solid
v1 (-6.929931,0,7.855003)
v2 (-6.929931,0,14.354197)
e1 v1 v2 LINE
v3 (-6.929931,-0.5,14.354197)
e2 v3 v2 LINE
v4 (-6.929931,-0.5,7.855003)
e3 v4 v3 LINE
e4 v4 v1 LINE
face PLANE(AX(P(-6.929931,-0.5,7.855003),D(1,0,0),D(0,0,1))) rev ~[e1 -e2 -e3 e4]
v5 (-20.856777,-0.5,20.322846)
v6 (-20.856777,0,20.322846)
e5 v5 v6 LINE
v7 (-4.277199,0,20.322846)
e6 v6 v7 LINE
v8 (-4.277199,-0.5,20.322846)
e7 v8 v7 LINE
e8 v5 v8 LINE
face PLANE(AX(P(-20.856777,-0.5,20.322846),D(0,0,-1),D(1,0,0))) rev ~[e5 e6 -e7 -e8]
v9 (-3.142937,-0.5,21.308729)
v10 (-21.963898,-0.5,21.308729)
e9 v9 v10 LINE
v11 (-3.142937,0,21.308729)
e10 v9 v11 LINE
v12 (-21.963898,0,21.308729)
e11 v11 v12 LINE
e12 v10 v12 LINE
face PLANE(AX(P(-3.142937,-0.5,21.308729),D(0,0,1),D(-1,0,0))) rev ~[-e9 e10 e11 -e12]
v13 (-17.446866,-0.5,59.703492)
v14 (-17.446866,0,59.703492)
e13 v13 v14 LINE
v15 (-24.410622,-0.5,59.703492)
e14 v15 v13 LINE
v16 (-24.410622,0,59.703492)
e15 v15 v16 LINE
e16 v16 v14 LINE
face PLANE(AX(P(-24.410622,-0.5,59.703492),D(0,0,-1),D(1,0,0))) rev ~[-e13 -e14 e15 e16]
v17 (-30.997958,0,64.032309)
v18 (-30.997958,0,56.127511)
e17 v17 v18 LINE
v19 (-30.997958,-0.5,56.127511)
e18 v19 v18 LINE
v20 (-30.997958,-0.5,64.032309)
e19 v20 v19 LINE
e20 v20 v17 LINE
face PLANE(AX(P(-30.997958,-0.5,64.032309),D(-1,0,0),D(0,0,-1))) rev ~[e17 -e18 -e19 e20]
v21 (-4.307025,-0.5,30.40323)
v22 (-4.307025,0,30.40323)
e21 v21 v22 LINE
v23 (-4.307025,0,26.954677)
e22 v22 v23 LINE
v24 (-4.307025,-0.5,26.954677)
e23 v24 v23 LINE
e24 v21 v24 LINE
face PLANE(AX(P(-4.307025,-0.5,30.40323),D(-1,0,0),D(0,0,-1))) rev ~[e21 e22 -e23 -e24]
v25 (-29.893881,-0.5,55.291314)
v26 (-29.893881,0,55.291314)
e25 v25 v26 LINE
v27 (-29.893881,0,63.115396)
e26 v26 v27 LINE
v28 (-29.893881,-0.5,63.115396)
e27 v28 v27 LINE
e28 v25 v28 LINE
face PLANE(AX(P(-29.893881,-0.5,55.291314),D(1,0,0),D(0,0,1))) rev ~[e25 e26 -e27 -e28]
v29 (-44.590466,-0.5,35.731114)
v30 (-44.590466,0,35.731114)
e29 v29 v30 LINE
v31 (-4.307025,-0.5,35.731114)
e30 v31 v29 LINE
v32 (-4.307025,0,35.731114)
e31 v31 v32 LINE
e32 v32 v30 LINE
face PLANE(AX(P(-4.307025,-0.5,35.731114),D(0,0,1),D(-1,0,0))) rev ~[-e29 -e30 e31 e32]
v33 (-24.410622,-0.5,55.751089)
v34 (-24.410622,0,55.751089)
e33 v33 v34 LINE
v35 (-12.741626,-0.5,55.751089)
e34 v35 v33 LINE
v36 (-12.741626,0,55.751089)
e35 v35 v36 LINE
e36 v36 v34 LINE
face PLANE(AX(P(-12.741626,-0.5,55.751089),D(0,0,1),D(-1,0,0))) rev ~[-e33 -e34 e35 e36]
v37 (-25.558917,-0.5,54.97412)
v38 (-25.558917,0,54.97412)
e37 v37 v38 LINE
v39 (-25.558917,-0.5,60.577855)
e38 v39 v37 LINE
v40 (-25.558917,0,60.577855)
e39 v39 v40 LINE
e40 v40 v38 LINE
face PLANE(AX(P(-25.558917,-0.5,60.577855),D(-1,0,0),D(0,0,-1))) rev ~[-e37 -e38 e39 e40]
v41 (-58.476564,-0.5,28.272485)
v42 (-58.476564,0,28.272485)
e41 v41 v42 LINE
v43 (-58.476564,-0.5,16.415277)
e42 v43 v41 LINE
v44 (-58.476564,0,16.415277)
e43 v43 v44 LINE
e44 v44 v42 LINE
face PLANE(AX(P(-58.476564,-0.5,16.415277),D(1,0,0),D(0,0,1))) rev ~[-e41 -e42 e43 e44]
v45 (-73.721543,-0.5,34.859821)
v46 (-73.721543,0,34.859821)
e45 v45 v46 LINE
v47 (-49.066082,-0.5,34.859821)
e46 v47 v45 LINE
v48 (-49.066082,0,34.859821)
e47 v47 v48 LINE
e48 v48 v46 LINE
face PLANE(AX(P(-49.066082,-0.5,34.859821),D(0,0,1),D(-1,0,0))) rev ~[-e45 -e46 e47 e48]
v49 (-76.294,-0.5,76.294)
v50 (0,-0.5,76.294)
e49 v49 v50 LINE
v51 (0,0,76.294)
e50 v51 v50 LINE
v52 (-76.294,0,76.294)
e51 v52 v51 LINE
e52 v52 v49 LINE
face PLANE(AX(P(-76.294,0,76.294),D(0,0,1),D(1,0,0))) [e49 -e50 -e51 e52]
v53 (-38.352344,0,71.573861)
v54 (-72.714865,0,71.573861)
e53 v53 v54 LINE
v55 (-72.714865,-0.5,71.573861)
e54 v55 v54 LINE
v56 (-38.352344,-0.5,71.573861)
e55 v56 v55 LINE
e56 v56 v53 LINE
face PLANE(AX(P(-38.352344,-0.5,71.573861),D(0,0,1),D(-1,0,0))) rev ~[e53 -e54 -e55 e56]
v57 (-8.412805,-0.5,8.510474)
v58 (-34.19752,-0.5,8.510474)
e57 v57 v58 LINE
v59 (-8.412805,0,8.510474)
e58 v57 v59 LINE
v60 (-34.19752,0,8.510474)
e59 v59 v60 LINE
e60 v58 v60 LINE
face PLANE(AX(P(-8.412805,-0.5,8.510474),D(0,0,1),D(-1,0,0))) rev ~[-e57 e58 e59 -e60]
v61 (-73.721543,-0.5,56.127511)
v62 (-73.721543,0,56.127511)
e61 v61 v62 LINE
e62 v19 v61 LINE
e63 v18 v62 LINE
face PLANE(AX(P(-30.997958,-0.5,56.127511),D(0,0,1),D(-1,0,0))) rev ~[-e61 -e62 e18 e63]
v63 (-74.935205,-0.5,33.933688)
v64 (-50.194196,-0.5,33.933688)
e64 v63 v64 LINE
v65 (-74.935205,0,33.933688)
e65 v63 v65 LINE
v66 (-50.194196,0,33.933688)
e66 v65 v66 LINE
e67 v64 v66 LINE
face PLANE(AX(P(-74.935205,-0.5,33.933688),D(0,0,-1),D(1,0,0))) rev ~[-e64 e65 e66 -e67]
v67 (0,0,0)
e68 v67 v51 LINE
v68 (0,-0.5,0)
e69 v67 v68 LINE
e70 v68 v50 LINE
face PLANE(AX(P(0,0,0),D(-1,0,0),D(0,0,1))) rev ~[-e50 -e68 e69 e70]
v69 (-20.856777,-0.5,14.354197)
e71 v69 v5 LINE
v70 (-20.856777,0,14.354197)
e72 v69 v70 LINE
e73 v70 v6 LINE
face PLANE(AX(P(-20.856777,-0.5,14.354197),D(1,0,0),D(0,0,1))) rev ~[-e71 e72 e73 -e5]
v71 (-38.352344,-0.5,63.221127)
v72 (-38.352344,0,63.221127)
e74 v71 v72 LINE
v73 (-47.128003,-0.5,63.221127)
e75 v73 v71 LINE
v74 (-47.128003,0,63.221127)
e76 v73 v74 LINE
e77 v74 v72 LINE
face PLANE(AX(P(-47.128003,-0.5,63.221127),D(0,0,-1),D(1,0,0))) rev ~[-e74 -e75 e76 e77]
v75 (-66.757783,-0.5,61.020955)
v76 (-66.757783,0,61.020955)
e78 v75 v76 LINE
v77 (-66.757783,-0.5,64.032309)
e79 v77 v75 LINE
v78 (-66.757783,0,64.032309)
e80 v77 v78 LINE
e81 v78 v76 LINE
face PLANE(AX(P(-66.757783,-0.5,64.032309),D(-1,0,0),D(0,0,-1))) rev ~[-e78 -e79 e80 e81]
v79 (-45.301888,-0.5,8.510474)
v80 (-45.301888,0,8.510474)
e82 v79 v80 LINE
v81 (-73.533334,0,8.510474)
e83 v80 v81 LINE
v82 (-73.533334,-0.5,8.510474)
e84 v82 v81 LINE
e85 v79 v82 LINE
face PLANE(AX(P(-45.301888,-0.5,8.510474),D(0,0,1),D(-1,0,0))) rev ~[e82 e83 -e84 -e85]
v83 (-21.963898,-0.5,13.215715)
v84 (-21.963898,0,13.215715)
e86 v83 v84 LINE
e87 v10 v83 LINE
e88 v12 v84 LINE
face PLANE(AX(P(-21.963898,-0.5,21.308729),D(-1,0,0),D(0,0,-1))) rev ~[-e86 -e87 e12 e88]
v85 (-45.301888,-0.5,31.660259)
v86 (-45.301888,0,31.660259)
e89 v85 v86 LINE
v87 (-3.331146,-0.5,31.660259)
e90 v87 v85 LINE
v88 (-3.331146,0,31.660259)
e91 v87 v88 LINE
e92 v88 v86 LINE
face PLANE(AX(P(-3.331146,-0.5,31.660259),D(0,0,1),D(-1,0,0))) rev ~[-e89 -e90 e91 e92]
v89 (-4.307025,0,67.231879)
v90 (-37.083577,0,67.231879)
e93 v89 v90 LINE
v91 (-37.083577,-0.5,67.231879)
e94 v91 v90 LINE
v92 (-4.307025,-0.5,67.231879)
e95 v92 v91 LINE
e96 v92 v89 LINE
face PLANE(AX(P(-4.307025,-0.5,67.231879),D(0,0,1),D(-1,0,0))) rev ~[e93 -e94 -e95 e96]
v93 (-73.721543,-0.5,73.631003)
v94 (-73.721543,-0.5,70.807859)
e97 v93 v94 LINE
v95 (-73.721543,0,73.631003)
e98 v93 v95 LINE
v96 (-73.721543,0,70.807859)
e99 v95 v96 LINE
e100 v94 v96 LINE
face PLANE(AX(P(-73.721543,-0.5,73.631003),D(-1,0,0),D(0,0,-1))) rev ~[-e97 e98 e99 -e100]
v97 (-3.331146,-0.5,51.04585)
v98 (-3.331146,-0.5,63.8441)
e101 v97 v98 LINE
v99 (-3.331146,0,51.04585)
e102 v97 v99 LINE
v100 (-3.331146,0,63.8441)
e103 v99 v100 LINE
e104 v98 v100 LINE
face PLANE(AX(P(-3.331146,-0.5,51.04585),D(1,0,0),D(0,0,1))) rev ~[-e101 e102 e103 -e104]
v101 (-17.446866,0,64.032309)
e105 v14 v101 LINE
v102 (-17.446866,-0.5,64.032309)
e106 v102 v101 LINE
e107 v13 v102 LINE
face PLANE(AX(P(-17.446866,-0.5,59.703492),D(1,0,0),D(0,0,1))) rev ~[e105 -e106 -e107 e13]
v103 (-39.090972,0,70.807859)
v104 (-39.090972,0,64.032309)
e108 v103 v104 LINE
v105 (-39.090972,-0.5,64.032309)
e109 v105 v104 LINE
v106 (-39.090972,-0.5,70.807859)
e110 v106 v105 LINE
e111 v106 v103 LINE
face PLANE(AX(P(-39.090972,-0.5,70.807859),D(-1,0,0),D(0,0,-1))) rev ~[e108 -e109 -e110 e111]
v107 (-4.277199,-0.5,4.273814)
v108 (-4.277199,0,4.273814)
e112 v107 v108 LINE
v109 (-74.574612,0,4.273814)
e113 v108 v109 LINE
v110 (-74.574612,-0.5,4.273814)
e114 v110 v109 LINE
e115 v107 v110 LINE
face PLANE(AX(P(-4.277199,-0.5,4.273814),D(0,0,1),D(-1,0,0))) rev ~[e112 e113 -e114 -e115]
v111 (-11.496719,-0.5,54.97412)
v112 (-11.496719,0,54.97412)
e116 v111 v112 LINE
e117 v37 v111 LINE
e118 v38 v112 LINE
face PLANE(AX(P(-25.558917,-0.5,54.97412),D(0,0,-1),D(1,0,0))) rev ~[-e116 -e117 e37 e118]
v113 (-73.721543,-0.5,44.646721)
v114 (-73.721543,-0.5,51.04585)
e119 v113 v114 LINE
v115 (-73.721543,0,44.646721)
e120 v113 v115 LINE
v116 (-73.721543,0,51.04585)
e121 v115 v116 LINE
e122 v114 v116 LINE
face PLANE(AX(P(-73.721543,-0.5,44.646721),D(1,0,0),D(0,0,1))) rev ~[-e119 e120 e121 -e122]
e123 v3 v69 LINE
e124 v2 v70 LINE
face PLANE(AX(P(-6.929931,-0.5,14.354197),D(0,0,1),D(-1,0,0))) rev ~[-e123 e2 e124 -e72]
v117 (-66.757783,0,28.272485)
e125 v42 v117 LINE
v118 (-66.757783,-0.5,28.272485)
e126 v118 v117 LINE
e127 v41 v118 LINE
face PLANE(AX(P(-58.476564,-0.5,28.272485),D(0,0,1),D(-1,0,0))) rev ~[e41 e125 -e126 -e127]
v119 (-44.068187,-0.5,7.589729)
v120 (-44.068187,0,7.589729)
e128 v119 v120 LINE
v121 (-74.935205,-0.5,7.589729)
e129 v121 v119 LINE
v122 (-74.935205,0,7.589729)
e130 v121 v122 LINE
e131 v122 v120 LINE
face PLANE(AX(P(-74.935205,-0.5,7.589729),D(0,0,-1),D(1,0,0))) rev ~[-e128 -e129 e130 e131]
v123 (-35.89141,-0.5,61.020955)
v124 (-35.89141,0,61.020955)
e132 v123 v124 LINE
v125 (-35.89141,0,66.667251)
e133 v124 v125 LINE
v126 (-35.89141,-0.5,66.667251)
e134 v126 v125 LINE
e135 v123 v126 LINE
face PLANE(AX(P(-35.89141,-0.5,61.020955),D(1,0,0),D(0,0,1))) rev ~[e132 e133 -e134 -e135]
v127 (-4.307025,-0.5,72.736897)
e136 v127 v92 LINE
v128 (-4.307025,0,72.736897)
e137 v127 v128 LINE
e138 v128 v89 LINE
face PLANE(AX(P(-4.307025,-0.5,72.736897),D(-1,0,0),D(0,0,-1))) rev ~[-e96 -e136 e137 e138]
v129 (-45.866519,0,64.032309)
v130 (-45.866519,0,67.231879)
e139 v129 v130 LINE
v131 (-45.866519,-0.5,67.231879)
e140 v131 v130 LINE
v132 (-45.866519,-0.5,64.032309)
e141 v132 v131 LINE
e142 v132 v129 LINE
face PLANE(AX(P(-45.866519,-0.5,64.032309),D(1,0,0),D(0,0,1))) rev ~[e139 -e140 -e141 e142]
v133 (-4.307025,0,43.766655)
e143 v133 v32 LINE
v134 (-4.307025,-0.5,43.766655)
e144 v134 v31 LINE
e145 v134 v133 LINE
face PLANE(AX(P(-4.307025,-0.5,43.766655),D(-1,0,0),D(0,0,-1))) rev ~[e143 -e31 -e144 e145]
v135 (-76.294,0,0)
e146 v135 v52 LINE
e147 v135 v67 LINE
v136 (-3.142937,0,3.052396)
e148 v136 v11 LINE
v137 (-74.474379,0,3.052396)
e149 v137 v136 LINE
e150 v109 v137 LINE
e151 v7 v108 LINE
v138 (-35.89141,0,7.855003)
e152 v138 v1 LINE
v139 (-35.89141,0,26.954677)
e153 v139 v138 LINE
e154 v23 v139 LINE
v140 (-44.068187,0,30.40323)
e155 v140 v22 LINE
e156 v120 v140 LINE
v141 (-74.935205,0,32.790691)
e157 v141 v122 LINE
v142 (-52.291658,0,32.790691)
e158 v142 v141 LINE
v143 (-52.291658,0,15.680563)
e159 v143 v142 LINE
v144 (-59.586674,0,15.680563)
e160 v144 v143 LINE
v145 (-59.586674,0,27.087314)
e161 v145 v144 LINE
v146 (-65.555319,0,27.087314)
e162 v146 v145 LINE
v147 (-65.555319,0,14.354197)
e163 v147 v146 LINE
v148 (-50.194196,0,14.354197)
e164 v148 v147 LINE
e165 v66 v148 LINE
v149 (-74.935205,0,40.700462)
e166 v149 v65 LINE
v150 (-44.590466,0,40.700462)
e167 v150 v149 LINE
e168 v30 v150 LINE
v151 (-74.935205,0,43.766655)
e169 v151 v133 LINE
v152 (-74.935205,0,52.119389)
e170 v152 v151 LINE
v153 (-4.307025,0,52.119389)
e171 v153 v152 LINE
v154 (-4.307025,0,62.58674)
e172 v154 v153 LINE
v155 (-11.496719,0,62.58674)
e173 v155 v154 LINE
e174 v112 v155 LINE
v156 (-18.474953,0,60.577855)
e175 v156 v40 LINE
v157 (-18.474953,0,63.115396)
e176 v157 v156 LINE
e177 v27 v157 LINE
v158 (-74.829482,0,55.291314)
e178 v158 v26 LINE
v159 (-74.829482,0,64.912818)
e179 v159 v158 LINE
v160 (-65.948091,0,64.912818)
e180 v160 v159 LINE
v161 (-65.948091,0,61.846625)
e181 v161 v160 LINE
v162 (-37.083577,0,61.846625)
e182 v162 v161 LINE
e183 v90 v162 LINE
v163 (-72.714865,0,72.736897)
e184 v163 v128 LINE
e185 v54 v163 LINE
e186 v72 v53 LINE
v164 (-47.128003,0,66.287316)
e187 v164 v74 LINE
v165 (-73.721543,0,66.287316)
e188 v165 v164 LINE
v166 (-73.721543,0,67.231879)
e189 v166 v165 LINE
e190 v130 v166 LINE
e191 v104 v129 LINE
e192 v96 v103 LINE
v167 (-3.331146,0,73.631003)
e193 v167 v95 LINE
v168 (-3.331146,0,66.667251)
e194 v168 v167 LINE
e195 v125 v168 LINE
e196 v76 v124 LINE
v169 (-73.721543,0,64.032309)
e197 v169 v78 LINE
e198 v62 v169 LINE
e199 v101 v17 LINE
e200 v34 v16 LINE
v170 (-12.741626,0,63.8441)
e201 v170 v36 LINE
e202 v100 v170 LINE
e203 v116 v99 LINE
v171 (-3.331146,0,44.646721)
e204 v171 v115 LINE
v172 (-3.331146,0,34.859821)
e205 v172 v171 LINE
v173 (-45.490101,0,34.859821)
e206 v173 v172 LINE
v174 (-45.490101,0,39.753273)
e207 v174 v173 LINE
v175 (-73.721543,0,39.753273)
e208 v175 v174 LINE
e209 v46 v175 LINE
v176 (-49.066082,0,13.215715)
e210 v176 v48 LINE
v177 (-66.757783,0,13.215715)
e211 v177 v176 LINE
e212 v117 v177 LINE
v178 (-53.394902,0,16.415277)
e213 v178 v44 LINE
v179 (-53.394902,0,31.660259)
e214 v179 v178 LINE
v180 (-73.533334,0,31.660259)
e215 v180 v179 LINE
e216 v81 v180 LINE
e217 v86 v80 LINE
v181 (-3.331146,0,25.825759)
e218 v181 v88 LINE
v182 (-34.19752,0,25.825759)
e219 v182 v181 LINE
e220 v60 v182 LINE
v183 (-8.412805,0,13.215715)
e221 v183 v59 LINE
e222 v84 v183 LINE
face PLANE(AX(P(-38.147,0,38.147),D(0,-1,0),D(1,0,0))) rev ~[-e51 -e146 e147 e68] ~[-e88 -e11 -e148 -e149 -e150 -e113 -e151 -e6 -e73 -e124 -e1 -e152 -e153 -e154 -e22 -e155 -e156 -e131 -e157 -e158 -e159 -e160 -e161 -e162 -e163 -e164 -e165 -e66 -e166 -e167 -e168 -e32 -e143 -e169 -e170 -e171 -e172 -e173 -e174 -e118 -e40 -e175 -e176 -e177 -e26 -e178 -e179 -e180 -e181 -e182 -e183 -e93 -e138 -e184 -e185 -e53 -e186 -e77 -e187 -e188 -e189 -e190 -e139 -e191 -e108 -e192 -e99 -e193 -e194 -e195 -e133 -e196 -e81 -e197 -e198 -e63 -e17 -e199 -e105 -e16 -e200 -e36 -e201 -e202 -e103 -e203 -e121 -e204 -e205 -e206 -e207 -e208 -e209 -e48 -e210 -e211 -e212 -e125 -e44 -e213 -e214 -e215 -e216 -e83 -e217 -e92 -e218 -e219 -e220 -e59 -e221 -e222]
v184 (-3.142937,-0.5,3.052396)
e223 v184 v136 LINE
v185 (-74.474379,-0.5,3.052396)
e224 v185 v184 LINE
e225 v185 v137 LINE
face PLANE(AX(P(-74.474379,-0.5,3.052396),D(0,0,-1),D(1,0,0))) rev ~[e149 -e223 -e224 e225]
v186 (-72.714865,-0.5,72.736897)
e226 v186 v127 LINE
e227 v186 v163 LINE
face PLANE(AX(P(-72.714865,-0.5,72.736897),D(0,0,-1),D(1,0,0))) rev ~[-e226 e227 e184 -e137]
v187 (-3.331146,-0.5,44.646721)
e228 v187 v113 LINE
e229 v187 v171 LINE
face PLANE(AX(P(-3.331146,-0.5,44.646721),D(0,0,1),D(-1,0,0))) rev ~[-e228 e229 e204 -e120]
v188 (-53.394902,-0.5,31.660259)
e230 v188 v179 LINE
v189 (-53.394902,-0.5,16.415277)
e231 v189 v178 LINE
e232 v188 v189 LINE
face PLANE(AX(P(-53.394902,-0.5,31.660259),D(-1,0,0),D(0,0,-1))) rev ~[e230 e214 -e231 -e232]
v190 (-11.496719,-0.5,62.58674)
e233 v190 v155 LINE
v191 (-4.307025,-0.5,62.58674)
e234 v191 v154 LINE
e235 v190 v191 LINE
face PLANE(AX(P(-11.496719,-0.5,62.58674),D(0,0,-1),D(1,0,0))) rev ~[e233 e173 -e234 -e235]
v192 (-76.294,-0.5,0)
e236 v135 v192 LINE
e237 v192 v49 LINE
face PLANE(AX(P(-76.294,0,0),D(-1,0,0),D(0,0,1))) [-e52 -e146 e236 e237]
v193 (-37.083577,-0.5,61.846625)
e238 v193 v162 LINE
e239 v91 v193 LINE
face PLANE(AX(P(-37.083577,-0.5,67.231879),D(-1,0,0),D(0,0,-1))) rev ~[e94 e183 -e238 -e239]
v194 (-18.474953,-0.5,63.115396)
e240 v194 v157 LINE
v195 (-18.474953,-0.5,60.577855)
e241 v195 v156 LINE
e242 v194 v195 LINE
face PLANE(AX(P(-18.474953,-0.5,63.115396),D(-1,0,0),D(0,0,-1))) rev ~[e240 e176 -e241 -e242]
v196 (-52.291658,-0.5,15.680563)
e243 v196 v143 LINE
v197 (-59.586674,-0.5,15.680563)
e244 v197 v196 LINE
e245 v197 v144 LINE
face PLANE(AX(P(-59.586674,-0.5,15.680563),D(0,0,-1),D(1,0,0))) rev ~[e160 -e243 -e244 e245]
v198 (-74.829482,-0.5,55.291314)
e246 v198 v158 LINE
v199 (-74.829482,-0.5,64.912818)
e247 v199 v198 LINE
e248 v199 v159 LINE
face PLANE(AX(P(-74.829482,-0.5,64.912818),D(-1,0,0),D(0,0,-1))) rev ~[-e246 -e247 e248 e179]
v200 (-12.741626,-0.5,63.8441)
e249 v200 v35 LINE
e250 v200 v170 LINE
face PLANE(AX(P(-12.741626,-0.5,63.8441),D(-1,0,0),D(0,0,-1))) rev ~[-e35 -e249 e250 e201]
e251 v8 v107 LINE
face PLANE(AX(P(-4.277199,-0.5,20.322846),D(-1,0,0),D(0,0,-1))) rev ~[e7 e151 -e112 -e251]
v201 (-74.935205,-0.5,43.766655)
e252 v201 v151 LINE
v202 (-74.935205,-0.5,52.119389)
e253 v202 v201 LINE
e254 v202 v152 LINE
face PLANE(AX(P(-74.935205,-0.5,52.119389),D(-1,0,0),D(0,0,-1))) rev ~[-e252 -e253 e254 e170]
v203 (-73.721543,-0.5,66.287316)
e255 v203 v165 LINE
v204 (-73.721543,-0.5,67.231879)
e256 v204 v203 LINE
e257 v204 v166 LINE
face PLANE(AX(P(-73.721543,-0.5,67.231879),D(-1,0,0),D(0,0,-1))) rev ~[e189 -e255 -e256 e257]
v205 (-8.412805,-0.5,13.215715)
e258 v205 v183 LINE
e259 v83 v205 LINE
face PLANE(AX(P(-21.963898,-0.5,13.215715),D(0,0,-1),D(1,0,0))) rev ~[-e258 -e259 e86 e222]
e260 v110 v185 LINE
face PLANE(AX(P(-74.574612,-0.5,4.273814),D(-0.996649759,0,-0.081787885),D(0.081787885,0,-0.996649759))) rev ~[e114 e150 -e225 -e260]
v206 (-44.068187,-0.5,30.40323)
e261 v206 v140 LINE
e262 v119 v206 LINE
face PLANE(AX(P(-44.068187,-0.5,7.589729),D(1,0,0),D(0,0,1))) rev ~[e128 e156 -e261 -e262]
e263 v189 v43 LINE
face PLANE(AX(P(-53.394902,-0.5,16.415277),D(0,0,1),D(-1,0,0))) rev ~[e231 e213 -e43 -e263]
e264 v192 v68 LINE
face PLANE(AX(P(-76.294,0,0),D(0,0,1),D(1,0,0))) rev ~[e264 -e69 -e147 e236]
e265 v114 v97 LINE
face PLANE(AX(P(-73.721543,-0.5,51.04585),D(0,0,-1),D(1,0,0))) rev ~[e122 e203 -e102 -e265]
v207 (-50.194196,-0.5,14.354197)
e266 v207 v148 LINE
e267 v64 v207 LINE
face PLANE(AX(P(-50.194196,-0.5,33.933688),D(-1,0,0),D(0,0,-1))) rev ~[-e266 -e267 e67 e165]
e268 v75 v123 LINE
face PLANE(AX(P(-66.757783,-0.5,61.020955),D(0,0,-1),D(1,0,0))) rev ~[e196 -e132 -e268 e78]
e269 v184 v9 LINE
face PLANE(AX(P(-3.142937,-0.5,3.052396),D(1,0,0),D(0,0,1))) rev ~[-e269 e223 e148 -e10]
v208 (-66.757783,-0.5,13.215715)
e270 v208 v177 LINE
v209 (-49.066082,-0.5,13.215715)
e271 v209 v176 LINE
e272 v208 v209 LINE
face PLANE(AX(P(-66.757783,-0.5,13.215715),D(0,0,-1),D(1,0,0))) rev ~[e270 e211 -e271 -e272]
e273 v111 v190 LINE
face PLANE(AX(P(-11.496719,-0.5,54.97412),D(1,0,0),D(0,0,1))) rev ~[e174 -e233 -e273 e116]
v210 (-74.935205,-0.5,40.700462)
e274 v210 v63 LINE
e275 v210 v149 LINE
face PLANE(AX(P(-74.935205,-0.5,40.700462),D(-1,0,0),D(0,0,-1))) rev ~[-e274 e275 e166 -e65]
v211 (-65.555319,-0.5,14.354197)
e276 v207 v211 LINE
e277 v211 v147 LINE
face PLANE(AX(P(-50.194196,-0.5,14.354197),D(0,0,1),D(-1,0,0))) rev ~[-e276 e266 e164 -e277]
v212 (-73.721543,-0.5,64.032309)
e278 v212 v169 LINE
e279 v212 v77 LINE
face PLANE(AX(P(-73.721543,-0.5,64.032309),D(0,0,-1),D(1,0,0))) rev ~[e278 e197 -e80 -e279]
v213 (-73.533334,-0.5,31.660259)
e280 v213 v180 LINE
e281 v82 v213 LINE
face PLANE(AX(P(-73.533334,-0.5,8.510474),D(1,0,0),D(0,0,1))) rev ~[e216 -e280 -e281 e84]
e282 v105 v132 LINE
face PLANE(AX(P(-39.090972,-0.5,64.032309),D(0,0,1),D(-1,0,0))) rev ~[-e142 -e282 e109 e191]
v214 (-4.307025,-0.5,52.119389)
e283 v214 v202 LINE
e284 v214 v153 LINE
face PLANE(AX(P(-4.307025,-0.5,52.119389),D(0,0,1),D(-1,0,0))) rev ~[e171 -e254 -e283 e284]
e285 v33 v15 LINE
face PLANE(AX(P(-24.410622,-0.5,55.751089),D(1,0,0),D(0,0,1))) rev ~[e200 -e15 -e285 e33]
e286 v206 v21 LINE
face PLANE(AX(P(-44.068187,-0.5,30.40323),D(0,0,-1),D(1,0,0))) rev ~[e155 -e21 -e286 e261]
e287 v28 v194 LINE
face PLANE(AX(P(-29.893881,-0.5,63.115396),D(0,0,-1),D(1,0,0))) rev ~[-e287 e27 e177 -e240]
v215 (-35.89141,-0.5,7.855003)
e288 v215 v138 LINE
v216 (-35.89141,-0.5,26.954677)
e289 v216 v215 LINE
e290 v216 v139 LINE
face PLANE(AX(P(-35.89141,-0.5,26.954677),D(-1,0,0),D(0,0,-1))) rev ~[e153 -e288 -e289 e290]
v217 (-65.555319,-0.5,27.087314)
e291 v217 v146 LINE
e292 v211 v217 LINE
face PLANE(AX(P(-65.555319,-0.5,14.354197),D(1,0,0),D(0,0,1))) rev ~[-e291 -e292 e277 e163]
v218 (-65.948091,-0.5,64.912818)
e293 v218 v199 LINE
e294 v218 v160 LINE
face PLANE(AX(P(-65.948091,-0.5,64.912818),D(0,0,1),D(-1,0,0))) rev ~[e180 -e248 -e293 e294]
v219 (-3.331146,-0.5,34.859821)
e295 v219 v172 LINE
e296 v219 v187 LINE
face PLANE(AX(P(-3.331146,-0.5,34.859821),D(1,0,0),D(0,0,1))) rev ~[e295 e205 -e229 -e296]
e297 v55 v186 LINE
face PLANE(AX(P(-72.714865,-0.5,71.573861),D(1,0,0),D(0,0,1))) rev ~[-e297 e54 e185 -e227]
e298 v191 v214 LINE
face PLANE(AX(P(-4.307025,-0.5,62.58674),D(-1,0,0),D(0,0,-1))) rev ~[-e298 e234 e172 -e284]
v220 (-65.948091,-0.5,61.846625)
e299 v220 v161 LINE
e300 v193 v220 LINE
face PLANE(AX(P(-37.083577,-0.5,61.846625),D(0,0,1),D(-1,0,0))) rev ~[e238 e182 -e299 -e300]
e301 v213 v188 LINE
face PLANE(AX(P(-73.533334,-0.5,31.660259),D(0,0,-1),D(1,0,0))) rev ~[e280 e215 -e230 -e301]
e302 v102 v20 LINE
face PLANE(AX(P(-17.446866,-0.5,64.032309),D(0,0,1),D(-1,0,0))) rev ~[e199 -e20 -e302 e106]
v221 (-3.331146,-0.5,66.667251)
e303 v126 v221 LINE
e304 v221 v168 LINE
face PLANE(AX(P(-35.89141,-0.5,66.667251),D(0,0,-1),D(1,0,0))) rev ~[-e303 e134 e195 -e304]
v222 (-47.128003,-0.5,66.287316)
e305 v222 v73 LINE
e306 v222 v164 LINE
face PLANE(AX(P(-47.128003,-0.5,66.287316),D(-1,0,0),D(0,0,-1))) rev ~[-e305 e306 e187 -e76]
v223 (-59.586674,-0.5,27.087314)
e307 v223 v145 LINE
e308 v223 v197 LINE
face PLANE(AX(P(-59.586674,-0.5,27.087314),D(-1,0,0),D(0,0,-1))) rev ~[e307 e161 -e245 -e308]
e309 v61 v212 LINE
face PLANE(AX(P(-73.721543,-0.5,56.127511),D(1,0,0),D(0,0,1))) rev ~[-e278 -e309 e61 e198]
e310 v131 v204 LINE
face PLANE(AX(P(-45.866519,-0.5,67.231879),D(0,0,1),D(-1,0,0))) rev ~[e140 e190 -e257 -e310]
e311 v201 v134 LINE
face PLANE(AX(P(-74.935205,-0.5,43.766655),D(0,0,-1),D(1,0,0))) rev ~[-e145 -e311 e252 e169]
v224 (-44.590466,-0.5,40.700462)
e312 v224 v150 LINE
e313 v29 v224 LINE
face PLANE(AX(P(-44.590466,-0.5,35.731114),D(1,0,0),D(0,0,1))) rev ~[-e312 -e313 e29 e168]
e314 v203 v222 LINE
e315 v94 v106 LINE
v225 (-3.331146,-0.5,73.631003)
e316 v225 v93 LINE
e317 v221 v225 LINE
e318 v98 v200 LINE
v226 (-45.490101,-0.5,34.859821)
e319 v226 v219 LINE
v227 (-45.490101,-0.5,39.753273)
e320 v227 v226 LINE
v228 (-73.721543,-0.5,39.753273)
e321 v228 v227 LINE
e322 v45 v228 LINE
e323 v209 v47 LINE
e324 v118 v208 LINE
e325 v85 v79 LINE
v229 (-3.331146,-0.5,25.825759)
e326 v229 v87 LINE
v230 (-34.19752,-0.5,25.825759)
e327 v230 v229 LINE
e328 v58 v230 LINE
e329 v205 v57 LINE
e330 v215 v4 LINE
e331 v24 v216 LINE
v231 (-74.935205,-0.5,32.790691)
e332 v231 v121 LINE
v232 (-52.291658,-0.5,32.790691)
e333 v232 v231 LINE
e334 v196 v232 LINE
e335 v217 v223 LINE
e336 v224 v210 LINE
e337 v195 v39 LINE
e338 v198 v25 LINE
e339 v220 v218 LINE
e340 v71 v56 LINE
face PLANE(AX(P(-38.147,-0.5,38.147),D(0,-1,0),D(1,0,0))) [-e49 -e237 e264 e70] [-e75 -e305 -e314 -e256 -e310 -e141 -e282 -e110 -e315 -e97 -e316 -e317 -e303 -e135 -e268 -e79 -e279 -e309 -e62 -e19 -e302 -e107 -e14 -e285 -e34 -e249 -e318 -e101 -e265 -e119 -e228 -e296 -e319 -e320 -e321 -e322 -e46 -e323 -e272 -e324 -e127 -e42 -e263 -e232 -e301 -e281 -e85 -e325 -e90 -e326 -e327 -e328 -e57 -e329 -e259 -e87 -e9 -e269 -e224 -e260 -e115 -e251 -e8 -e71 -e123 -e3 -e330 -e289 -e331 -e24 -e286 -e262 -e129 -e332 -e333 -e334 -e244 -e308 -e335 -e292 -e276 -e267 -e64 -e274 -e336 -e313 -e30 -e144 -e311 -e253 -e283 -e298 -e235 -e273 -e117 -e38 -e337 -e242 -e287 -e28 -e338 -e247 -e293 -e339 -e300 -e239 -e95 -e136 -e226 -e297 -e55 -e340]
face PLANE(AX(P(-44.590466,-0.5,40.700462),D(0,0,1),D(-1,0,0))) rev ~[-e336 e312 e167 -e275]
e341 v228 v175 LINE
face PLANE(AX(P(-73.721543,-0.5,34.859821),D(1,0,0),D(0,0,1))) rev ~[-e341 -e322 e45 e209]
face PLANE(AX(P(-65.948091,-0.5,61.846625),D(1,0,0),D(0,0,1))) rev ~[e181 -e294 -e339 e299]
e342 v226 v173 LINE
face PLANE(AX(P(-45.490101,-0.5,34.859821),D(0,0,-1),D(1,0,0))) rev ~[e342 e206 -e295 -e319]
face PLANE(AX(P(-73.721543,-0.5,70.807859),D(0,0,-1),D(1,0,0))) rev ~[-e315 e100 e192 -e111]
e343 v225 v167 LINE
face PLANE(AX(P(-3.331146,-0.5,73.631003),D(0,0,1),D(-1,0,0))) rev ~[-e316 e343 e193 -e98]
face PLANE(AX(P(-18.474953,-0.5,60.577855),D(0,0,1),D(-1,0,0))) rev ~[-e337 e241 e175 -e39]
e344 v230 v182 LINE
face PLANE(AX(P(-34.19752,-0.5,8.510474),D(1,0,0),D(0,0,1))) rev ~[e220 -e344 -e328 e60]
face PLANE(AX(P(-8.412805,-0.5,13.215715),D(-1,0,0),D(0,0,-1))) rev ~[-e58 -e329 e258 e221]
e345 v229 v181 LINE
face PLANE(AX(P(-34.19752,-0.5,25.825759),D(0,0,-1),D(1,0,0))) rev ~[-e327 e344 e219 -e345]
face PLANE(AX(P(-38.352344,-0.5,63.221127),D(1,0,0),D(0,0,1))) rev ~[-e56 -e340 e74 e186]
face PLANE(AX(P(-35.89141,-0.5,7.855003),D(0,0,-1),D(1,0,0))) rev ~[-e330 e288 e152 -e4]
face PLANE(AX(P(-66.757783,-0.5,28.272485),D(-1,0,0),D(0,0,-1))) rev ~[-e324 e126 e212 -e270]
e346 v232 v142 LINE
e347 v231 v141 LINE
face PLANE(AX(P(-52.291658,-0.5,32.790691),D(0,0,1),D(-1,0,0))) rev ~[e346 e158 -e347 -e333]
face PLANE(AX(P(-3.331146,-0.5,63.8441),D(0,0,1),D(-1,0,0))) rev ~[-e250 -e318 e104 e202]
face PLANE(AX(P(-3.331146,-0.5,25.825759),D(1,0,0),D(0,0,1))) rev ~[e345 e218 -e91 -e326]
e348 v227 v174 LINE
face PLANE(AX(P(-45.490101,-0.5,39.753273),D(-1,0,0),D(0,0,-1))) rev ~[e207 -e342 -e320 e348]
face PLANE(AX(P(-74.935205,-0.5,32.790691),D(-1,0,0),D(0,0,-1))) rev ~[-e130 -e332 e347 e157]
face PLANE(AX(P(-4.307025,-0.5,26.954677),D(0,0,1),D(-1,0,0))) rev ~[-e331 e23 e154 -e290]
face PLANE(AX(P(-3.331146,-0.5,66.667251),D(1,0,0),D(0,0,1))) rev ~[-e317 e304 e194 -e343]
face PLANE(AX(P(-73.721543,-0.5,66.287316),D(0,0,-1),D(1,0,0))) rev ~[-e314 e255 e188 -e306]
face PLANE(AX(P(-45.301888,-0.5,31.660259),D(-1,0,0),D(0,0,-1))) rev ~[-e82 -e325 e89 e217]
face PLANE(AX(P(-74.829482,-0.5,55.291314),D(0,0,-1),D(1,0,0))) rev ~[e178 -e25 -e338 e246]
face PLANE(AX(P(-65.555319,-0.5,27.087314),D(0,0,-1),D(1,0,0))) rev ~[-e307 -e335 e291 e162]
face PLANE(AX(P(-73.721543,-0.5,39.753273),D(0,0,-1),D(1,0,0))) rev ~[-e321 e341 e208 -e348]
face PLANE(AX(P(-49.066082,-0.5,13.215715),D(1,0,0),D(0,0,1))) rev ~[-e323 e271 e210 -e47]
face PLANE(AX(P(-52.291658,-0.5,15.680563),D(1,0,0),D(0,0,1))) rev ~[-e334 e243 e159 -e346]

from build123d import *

# Parameters (mm, degrees)
F0_W     = 76.294
F0_H     = 76.294
F1_DEPTH = 0.5
F3_DEPTH = 0.5


with BuildPart() as f1:
    # F0 (on Front) → F1 (new body)
    with BuildSketch(Plane.XZ):
        with Locations((-38.147, 38.147)):
            Rectangle(F0_W, F0_H)
    extrude(amount=F1_DEPTH)

    # F2 (on face) → F3 (cut)
    with BuildSketch(Plane.XZ.offset(0.5)):
        Polygon((-74.574612, 4.273814), (-74.474379, 3.052396), (-3.142937, 3.052396), (-3.142937, 21.308729), (-21.963898, 21.308729), (-21.963898, 13.215715), (-8.412805, 13.215715), (-8.412805, 8.510474), (-34.19752, 8.510474), (-34.19752, 25.825759), (-3.331146, 25.825759), (-3.331146, 31.660259), (-45.301888, 31.660259), (-45.301888, 8.510474), (-73.533334, 8.510474), (-73.533334, 31.660259), (-53.394902, 31.660259), (-53.394902, 16.415277), (-58.476564, 16.415277), (-58.476564, 28.272485), (-66.757783, 28.272485), (-66.757783, 13.215715), (-49.066082, 13.215715), (-49.066082, 34.859821), (-73.721543, 34.859821), (-73.721543, 39.753273), (-45.490101, 39.753273), (-45.490101, 34.859821), (-3.331146, 34.859821), (-3.331146, 44.646721), (-73.721543, 44.646721), (-73.721543, 51.04585), (-3.331146, 51.04585), (-3.331146, 63.8441), (-12.741626, 63.8441), (-12.741626, 55.751089), (-24.410622, 55.751089), (-24.410622, 59.703492), (-17.446866, 59.703492), (-17.446866, 64.032309), (-30.997958, 64.032309), (-30.997958, 56.127511), (-73.721543, 56.127511), (-73.721543, 64.032309), (-66.757783, 64.032309), (-66.757783, 61.020955), (-35.89141, 61.020955), (-35.89141, 66.667251), (-3.331146, 66.667251), (-3.331146, 73.631003), (-73.721543, 73.631003), (-73.721543, 70.807859), (-39.090972, 70.807859), (-39.090972, 64.032309), (-45.866519, 64.032309), (-45.866519, 67.231879), (-73.721543, 67.231879), (-73.721543, 66.287316), (-47.128003, 66.287316), (-47.128003, 63.221127), (-38.352344, 63.221127), (-38.352344, 71.573861), (-72.714865, 71.573861), (-72.714865, 72.736897), (-4.307025, 72.736897), (-4.307025, 67.231879), (-37.083577, 67.231879), (-37.083577, 61.846625), (-65.948091, 61.846625), (-65.948091, 64.912818), (-74.829482, 64.912818), (-74.829482, 55.291314), (-29.893881, 55.291314), (-29.893881, 63.115396), (-18.474953, 63.115396), (-18.474953, 60.577855), (-25.558917, 60.577855), (-25.558917, 54.97412), (-11.496719, 54.97412), (-11.496719, 62.58674), (-4.307025, 62.58674), (-4.307025, 52.119389), (-74.935205, 52.119389), (-74.935205, 43.766655), (-4.307025, 43.766655), (-4.307025, 35.731114), (-44.590466, 35.731114), (-44.590466, 40.700462), (-74.935205, 40.700462), (-74.935205, 33.933688), (-50.194196, 33.933688), (-50.194196, 14.354197), (-65.555319, 14.354197), (-65.555319, 27.087314), (-59.586674, 27.087314), (-59.586674, 15.680563), (-52.291658, 15.680563), (-52.291658, 32.790691), (-74.935205, 32.790691), (-74.935205, 7.589729), (-44.068187, 7.589729), (-44.068187, 30.40323), (-4.307025, 30.40323), (-4.307025, 26.954677), (-35.89141, 26.954677), (-35.89141, 7.855003), (-6.929931, 7.855003), (-6.929931, 14.354197), (-20.856777, 14.354197), (-20.856777, 20.322846), (-4.277199, 20.322846), (-4.277199, 4.273814), align=None)
    extrude(amount=-F3_DEPTH, mode=Mode.SUBTRACT)


solid = f1.part
